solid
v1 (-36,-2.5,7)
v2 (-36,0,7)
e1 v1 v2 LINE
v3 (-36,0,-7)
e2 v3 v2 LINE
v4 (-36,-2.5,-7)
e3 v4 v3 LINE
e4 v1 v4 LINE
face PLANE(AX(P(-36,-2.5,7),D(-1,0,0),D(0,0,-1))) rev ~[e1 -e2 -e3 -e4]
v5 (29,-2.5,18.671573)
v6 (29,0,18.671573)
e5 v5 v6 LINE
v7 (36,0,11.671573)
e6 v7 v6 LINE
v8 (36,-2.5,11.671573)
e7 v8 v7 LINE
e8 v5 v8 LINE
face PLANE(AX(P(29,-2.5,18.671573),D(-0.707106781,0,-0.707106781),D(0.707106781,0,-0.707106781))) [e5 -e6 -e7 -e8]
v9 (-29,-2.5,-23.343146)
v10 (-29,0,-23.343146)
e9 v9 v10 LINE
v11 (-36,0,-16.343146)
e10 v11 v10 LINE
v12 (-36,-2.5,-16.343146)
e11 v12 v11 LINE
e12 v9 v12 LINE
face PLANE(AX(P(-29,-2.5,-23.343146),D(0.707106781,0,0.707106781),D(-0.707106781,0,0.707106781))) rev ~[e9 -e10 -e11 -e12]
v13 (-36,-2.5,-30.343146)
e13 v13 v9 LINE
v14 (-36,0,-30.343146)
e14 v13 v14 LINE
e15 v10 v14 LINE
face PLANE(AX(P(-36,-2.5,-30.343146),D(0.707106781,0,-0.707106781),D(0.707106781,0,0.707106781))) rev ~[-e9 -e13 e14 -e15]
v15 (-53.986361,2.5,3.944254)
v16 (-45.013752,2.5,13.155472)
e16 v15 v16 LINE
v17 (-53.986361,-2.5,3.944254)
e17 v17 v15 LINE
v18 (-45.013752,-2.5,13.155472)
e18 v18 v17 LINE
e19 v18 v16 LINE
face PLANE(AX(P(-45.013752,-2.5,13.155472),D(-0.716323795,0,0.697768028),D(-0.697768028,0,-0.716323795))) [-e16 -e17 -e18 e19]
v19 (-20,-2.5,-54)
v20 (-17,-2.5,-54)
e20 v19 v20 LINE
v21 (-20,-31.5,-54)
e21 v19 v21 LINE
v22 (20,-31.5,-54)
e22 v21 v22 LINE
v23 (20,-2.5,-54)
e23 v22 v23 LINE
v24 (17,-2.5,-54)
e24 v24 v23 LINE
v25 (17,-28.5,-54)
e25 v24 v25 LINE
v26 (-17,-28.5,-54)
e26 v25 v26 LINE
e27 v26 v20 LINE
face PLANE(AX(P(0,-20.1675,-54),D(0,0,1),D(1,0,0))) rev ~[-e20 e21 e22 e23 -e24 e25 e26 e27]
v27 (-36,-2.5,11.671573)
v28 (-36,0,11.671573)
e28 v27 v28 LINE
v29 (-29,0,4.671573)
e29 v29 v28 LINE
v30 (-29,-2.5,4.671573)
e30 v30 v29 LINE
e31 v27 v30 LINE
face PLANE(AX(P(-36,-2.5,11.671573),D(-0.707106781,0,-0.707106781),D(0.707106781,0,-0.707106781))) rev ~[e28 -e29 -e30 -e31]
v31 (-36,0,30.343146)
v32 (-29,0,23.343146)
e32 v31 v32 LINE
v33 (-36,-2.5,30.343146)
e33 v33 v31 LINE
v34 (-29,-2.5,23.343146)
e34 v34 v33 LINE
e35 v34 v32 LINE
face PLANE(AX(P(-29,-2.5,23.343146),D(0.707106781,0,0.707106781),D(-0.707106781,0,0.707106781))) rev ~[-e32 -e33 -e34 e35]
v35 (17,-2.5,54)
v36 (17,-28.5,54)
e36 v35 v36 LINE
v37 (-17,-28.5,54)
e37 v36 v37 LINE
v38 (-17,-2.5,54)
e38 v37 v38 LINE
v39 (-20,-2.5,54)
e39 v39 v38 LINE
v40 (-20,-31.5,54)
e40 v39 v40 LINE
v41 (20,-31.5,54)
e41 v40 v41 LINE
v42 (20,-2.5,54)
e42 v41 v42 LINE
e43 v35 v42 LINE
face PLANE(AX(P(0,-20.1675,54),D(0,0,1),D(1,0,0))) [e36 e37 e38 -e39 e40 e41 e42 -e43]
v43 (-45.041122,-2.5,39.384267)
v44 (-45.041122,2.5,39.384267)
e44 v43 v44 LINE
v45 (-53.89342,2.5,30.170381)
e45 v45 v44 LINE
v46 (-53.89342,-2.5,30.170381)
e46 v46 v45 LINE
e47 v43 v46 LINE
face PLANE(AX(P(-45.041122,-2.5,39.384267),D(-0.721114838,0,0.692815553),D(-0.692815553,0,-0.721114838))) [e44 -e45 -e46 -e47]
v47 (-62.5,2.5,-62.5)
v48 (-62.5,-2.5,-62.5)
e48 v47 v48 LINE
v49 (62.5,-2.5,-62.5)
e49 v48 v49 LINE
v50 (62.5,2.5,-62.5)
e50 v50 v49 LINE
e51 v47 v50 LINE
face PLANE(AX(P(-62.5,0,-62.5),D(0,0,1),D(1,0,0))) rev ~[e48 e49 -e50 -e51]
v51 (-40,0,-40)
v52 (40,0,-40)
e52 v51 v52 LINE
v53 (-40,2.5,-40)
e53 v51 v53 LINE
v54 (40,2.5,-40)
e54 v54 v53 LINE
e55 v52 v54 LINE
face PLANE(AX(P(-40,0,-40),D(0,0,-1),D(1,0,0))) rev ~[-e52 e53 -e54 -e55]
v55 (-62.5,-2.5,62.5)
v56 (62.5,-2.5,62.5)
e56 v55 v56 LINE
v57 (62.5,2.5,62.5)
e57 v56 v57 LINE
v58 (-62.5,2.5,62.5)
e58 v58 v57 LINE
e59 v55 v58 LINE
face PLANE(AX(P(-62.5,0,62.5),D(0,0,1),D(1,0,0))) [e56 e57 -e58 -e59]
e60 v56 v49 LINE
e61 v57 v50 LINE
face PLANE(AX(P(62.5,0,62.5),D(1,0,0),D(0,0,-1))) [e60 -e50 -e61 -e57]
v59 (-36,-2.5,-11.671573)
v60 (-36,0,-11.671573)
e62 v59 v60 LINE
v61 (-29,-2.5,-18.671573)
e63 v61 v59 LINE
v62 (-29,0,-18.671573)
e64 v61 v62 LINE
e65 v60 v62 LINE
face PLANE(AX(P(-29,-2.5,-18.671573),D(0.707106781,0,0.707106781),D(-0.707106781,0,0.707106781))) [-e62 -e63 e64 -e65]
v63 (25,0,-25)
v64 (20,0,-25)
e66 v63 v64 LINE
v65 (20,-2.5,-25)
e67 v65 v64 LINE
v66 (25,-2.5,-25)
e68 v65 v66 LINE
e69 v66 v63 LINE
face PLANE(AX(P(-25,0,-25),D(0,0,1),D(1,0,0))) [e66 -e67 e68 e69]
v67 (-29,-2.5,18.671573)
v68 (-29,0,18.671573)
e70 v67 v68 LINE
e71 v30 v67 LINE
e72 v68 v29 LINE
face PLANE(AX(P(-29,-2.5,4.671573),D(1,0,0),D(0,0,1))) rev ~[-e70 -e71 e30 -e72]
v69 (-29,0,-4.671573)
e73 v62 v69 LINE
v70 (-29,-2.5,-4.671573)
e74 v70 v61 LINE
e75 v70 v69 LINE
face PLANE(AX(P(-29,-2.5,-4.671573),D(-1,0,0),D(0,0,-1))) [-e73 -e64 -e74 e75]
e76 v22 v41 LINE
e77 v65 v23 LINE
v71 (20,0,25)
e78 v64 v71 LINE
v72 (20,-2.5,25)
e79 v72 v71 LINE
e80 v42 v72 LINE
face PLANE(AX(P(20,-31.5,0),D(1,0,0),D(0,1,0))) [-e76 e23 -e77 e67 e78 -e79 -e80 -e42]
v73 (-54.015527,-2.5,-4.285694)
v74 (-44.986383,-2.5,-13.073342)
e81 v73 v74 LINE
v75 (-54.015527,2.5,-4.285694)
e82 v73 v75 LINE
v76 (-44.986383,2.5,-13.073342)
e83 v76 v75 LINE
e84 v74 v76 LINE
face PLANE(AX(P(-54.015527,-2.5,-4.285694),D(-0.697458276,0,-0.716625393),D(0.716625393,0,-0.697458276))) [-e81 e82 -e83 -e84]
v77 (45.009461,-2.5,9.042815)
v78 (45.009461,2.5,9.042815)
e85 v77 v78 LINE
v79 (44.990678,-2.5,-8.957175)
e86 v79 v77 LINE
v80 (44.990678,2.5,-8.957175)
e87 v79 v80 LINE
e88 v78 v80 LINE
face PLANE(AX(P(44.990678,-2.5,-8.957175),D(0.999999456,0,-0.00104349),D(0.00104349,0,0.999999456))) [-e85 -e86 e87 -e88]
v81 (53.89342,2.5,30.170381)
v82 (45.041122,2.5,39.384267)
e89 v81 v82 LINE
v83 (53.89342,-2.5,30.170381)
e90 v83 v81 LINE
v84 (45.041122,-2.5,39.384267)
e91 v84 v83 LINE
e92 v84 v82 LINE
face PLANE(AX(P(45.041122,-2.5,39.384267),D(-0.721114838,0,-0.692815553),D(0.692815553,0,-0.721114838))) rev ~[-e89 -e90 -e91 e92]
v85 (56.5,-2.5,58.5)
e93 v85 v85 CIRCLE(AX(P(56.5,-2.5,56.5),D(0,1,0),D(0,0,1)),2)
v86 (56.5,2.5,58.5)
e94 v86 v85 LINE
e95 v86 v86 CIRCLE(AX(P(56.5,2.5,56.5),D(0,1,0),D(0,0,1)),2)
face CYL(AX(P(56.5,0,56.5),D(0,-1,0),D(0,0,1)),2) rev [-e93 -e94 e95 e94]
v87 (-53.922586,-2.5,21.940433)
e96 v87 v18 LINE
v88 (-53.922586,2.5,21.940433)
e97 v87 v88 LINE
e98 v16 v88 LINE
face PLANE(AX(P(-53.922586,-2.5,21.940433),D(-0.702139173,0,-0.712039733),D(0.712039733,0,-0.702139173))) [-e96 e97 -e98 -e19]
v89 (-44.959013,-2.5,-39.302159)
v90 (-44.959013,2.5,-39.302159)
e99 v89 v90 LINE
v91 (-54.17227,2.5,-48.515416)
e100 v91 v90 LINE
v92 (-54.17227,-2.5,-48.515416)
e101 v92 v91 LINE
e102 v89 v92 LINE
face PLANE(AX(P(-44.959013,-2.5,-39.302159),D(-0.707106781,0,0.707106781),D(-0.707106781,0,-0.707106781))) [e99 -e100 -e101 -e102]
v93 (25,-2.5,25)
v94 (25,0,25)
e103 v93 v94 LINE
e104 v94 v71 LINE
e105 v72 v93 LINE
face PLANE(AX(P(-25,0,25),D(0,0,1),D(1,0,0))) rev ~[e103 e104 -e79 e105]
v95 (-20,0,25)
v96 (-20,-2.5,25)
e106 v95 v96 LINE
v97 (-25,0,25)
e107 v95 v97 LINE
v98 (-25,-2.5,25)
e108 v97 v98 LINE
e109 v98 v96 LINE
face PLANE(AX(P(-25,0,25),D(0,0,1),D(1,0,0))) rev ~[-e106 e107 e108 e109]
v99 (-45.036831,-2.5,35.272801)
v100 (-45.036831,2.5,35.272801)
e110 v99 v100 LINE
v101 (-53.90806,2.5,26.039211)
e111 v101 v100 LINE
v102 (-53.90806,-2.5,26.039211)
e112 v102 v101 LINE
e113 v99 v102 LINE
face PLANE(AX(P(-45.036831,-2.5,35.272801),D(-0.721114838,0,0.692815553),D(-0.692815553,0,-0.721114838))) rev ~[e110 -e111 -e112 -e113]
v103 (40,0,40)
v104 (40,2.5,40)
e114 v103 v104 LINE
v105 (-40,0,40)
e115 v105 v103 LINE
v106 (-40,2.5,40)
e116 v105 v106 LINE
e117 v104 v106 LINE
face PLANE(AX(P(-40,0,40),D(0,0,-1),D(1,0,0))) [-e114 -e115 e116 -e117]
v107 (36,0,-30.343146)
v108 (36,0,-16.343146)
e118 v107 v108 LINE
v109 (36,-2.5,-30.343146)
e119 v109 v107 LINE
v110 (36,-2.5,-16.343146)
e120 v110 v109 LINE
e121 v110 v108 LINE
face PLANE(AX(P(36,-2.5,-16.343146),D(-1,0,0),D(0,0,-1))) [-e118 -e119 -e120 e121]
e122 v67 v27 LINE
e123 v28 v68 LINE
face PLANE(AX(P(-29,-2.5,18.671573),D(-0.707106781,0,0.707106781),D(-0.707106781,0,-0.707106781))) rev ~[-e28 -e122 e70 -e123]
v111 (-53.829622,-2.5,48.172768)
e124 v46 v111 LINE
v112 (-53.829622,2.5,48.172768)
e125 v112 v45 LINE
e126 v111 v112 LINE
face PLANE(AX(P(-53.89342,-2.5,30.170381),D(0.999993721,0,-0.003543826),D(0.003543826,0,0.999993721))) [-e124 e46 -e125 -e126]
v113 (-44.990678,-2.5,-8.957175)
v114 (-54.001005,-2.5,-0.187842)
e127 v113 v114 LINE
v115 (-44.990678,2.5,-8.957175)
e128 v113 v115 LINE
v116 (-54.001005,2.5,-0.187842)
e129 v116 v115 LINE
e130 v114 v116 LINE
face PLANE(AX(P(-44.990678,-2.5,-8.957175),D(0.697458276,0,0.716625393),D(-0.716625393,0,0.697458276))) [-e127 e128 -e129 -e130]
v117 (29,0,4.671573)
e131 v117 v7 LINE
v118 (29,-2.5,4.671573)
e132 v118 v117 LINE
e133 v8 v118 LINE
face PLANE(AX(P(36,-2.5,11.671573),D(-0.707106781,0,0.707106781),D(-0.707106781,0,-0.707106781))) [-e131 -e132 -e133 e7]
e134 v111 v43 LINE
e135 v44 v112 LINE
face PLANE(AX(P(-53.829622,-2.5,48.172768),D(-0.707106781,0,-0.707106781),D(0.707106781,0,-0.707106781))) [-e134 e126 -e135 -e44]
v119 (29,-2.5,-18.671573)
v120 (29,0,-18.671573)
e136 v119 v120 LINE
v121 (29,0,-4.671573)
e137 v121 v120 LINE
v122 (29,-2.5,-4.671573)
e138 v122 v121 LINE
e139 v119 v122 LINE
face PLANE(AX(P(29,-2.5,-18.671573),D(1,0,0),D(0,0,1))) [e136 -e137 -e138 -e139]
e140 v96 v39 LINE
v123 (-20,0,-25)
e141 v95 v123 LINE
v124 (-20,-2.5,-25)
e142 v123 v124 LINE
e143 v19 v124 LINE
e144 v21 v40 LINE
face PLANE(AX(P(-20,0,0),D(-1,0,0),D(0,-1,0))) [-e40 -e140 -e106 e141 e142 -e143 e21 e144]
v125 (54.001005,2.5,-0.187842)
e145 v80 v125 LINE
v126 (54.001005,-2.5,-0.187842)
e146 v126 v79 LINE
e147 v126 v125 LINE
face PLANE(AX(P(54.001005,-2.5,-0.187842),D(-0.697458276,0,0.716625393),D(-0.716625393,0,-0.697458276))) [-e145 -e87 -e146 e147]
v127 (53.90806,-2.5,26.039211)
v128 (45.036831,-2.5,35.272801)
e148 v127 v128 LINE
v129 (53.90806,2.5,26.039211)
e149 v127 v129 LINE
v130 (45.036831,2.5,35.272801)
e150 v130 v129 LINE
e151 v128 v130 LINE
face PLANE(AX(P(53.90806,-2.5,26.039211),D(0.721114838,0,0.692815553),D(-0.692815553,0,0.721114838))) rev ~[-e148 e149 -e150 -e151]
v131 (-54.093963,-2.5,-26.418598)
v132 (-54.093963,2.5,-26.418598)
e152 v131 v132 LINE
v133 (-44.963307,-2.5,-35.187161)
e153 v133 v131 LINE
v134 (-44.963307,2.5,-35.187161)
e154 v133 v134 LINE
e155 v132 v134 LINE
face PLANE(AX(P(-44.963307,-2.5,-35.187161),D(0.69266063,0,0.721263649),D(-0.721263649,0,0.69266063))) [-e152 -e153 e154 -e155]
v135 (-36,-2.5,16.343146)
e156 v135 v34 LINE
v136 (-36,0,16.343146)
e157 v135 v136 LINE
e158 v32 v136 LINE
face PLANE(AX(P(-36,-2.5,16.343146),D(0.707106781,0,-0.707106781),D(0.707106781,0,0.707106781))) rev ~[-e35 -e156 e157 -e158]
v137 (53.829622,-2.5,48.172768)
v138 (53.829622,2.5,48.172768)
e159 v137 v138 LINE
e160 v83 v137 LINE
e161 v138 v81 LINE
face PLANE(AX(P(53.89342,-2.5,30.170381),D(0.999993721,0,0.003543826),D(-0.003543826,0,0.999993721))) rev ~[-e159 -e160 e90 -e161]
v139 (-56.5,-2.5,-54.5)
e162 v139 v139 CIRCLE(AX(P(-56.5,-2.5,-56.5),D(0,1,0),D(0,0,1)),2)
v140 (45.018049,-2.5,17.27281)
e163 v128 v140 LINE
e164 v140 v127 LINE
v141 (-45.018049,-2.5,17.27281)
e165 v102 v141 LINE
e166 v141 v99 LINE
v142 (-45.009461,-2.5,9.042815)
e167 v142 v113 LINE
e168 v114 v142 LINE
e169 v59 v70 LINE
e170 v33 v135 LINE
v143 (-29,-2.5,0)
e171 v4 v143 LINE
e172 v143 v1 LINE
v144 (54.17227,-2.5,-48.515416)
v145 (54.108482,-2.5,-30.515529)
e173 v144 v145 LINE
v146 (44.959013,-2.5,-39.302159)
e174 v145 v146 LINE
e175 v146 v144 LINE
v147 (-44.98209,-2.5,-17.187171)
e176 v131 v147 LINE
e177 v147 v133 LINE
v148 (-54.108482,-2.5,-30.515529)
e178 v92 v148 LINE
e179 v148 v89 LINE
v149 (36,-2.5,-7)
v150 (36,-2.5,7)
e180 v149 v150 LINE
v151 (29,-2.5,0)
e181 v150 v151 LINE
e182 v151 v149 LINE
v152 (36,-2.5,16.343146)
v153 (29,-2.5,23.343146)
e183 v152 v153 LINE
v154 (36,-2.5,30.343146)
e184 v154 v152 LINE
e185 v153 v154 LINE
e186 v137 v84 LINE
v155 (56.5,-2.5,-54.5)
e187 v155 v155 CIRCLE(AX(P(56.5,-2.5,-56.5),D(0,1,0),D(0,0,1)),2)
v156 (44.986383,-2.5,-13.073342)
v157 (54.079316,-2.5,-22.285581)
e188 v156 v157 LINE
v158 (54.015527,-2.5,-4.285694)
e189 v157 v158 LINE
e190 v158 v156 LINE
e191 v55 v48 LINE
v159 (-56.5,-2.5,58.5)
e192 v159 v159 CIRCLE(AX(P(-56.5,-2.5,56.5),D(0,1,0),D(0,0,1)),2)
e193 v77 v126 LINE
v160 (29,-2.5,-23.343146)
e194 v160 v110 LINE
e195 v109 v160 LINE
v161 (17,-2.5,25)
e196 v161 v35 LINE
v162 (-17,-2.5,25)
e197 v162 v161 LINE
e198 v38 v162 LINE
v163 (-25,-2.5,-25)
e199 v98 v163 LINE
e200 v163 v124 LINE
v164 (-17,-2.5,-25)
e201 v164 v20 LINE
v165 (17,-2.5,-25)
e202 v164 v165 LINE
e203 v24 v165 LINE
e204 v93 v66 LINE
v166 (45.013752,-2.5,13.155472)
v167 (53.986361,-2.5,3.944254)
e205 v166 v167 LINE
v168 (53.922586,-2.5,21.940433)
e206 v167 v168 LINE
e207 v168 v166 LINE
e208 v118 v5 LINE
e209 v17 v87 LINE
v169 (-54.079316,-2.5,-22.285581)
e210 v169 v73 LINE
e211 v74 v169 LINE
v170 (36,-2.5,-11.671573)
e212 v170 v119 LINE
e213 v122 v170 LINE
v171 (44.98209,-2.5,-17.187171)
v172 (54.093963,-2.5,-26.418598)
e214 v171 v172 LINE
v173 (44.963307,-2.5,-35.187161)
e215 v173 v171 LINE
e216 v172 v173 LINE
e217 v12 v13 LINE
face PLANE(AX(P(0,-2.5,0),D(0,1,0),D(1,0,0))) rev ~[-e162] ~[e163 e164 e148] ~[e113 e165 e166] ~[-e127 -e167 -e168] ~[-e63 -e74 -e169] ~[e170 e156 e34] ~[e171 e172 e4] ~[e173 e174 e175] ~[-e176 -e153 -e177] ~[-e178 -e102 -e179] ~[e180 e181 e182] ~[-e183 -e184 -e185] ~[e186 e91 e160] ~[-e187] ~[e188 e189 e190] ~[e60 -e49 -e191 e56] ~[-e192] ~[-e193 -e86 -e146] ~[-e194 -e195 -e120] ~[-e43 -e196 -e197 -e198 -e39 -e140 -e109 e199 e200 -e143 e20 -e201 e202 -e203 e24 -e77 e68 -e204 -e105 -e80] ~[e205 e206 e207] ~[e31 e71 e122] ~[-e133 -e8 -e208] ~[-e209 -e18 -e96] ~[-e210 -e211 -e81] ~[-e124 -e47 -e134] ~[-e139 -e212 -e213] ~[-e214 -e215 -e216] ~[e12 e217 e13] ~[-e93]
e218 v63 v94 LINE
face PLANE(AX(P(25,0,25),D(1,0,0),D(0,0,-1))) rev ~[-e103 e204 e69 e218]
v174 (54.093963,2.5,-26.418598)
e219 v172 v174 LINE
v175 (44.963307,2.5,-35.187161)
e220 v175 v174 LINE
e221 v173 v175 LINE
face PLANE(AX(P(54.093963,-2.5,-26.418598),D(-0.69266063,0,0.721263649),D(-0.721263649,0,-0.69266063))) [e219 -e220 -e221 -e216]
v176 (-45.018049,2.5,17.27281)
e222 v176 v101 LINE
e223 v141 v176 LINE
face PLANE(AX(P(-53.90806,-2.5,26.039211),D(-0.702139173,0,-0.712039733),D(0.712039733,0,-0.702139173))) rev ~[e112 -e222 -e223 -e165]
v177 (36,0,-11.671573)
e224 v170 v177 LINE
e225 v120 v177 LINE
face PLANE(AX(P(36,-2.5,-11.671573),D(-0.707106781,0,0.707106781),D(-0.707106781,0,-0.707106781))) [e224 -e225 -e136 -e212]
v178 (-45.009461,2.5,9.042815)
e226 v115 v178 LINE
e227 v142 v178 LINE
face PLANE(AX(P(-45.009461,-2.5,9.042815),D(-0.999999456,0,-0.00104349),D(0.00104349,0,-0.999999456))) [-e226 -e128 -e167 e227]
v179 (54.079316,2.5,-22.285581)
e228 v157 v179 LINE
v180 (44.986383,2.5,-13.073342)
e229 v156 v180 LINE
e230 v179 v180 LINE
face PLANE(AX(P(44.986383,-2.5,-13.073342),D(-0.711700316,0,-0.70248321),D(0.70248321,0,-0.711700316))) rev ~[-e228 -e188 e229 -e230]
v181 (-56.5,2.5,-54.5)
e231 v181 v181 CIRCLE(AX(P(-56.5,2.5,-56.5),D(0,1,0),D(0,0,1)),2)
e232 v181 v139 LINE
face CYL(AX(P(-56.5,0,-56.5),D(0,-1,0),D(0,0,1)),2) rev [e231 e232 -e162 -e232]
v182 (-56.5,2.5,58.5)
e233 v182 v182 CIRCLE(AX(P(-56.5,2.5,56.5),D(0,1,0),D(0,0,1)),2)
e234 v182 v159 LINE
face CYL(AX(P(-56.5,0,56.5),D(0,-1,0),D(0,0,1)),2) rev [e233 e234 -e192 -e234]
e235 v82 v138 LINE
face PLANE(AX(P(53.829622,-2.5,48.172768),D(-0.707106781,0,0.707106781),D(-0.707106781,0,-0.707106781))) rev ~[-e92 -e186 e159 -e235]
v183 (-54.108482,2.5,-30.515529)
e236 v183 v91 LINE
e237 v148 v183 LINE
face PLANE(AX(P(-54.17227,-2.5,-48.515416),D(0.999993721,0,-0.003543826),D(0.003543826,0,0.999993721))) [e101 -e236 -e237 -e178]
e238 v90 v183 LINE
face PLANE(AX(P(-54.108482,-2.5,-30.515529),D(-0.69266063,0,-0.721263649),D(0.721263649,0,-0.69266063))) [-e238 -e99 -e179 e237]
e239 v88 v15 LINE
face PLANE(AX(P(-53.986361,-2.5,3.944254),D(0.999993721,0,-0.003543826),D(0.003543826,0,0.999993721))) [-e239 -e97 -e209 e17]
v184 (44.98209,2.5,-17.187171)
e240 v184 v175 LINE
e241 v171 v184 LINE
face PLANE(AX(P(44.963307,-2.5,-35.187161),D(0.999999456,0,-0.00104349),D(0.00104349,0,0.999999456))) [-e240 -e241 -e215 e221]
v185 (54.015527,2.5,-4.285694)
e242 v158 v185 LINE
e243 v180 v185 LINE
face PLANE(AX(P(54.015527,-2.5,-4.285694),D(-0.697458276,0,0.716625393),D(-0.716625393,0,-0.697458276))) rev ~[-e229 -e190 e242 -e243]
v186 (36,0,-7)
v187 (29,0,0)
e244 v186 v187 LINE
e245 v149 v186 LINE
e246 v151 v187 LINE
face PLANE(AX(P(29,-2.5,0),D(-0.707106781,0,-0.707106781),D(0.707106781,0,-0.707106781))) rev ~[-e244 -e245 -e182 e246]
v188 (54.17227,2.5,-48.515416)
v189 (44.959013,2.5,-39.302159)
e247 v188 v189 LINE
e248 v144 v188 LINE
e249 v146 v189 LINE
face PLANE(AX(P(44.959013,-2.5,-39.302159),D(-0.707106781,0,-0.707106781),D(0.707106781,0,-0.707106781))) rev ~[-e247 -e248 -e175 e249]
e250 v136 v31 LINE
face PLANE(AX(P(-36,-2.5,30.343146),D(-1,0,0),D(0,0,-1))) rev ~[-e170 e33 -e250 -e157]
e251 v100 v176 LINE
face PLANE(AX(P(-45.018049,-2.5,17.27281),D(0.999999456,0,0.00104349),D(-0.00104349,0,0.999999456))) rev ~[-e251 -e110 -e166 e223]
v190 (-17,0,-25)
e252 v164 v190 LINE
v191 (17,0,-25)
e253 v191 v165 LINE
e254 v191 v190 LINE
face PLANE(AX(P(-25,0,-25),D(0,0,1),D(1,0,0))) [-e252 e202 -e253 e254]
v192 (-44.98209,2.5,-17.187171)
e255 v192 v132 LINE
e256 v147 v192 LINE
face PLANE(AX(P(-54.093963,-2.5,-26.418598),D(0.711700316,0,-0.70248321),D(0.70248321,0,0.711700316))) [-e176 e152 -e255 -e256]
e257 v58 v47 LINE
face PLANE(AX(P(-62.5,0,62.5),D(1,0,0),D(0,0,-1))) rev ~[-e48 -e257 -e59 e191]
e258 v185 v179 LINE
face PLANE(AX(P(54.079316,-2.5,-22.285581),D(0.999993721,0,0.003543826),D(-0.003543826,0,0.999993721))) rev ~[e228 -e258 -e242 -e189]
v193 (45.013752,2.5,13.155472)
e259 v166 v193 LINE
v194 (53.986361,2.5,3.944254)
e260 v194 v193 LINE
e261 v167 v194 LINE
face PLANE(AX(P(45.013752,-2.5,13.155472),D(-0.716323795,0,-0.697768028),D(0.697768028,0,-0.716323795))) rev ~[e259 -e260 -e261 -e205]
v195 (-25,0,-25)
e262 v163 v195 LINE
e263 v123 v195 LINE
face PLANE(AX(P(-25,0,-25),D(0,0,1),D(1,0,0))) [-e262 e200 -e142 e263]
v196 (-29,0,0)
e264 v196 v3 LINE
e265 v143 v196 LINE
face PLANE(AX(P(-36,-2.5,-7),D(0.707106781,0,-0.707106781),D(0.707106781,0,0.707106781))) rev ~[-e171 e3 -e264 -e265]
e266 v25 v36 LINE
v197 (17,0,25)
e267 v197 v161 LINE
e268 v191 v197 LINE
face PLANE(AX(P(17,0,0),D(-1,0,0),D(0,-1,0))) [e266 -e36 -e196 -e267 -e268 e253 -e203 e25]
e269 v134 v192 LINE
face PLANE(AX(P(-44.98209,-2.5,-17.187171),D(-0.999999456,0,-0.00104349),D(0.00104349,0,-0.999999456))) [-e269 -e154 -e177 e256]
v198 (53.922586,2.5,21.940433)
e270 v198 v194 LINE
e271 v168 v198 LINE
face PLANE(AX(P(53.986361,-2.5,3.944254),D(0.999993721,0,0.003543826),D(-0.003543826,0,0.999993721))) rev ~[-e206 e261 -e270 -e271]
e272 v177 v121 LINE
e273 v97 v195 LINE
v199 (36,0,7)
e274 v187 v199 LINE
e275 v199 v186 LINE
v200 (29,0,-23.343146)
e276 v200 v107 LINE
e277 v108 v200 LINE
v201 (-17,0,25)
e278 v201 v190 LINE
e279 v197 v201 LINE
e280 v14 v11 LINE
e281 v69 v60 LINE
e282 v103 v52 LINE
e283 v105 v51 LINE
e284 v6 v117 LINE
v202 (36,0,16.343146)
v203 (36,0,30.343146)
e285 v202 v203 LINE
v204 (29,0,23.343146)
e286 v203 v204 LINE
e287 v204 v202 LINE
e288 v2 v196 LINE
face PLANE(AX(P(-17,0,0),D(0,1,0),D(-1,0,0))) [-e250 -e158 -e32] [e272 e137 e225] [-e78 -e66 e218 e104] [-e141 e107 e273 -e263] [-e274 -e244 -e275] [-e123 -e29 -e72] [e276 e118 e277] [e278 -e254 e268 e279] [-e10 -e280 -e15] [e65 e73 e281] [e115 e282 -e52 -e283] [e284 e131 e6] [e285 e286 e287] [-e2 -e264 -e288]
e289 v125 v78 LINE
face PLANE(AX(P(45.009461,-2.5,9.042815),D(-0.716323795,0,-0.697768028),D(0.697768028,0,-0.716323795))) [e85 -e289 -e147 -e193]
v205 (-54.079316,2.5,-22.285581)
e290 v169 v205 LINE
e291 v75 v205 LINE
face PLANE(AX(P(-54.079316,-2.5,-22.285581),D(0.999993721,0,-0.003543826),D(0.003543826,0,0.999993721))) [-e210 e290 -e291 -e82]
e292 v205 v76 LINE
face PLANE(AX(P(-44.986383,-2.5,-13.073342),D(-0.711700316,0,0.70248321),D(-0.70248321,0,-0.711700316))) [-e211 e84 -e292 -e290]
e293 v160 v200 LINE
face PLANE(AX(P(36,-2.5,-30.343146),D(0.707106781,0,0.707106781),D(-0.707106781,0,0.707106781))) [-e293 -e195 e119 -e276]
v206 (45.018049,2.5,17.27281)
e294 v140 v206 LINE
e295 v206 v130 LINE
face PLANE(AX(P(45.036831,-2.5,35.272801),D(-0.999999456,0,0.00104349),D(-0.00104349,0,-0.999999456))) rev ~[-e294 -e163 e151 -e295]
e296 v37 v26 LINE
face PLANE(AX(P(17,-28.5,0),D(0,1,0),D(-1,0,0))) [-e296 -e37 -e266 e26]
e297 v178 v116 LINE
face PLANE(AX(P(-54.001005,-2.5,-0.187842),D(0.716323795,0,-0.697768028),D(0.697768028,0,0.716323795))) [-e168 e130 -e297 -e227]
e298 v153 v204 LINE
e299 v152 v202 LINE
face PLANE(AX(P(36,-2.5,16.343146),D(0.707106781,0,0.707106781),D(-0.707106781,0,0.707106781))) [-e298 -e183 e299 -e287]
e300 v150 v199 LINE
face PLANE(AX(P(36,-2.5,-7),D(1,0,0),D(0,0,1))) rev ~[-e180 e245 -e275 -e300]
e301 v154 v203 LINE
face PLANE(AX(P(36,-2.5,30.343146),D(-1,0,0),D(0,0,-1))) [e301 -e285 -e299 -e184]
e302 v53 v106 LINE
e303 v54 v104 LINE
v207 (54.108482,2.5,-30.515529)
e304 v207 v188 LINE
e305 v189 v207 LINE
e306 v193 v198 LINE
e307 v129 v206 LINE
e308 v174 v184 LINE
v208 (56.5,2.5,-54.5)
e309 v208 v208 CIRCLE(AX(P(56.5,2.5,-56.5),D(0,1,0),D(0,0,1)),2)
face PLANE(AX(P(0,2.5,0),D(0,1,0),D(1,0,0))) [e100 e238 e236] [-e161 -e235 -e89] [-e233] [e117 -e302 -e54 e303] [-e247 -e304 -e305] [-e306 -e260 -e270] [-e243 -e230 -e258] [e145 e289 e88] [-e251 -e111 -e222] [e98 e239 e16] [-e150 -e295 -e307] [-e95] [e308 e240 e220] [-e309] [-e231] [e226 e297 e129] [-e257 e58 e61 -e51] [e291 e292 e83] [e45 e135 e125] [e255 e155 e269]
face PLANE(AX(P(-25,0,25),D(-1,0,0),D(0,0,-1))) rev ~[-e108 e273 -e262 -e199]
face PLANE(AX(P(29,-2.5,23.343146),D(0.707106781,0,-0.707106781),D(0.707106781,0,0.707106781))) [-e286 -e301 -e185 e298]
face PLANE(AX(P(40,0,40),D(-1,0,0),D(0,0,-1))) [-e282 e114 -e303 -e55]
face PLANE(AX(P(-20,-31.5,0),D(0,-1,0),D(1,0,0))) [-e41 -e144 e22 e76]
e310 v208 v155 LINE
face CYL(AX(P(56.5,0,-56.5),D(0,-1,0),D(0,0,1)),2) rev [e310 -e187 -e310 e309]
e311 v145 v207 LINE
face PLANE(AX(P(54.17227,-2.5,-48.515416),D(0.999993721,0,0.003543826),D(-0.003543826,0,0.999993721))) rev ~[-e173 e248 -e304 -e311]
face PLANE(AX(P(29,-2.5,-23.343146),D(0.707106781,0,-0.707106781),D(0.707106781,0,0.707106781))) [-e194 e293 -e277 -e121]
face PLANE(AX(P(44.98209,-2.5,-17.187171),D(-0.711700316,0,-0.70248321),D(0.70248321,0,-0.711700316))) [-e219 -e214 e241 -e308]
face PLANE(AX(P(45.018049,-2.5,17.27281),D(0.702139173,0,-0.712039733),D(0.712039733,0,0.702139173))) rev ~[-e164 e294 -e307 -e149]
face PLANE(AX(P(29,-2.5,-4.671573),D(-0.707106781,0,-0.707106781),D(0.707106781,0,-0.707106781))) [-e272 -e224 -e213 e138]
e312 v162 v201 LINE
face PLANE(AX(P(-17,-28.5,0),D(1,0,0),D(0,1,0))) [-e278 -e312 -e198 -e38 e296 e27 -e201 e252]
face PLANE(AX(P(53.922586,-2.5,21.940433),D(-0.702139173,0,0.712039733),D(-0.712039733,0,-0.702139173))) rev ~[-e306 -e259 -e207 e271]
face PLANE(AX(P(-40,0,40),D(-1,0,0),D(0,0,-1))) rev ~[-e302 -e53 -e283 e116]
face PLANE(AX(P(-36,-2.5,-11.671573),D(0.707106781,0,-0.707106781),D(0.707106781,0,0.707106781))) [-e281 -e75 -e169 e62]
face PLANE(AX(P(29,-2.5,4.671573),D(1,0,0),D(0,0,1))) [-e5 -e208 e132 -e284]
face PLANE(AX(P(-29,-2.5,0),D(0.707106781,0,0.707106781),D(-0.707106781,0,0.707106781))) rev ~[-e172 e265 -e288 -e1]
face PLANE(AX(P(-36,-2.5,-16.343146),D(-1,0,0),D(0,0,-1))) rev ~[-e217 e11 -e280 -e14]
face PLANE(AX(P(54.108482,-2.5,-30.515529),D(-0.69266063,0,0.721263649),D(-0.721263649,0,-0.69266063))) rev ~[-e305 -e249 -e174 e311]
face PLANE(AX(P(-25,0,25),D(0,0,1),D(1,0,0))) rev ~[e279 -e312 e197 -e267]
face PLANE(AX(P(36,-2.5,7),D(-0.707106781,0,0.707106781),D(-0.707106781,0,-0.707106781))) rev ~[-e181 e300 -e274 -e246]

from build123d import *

# Parameters (mm, degrees)
SKETCH_2_W               = 125
SKETCH_2_H               = 125
SKETCH_2_R               = 2
SKETCH_2_W_2             = 50
SKETCH_2_H_2             = 50
EXTRUDE_1_DEPTH          = 2.5
EXTRUDE_4_DEPTH          = 54
SKETCH_7_W               = 80
SKETCH_7_H               = 80
CUT_EXTRUDE_1_DEPTH      = 10
CUT_EXTRUDE_2_DEPTH      = 95.702164706
CUT_EXTRUDE_2_DEPTH_BACK = 5


with BuildPart() as part:
    # 스케치2 → 보스-돌출1 (new, symmetric)
    with BuildSketch(Plane(origin=(0, 0, 0), x_dir=(1, 0, 0), z_dir=(0, 1, 0))):
        Rectangle(SKETCH_2_W, SKETCH_2_H)
        with Locations((-56.5, 56.5)):
            Circle(SKETCH_2_R, mode=Mode.SUBTRACT)
        with Locations((56.5, 56.5)):
            Circle(SKETCH_2_R, mode=Mode.SUBTRACT)
        with Locations((-56.5, -56.5)):
            Circle(SKETCH_2_R, mode=Mode.SUBTRACT)
        with Locations((56.5, -56.5)):
            Circle(SKETCH_2_R, mode=Mode.SUBTRACT)
        Rectangle(SKETCH_2_W_2, SKETCH_2_H_2, mode=Mode.SUBTRACT)
    extrude(amount=EXTRUDE_1_DEPTH, both=True)

    # 스케치6 → 보스-돌출4 (add, symmetric)
    with BuildSketch(Plane.XY):
        Polygon((-20, 0), (-20, -31.5), (20, -31.5), (20, 0), (17, 0), (17, -28.5), (-17, -28.5), (-17, 0), align=None)
    extrude(amount=EXTRUDE_4_DEPTH, both=True)

    # 스케치7 → 컷-돌출1 (cut)
    with BuildSketch(Plane(origin=(0, 0, 0), x_dir=(1, 0, 0), z_dir=(0, 1, 0))):
        Rectangle(SKETCH_7_W, SKETCH_7_H)
    extrude(amount=CUT_EXTRUDE_1_DEPTH, mode=Mode.SUBTRACT)

    # 스케치8 → 컷-돌출2 (cut, two sides: drawn at the far end of the back side and taken through both)
    with BuildSketch(Plane(origin=(0, 2.5, 0), x_dir=(1, 0, 0), z_dir=(0, 1, 0)).offset(-CUT_EXTRUDE_2_DEPTH_BACK)):
        Polygon((54.07931581, 22.285580831), (54.015526938, 4.28569386), (44.986382589, 13.073341514), align=None)
        Polygon((36, -30.343145751), (36, -16.343145751), (29, -23.343145751), align=None)
        Polygon((29, 18.671572875), (29, 4.671572875), (36, 11.671572875), align=None)
        Polygon((36, 30.343145751), (29, 23.343145751), (36, 16.343145751), align=None)
        Polygon((53.829622097, -48.172767848), (45.041121619, -39.384267369), (53.893419828, -30.170381277), align=None)
        Polygon((45.036831341, -35.272800588), (45.018048518, -17.272810388), (53.90806007, -26.039210725), align=None)
        Polygon((44.95901306, 39.30215881), (54.172270373, 48.515416123), (54.1084815, 30.515529152), align=None)
        Polygon((53.922585518, -21.940432956), (45.013752114, -13.155472476), (53.986361248, -3.944254461), align=None)
        Polygon((45.009460593, -9.042814869), (54.001004771, 0.18784173), (44.99067777, 8.957175331), align=None)
        Polygon((44.982089846, 17.187170851), (54.093962598, 26.418598199), (44.963307022, 35.187161051), align=None)
        Polygon((29, 0), (36, 7), (36, -7), align=None)
        Polygon((36, -11.671572875), (29, -4.671572875), (29, -18.671572875), align=None)
        Polygon((-36, -7), (-36, 7), (-29, 0), align=None)
        Polygon((-29, -4.671572875), (-29, -18.671572875), (-36, -11.671572875), align=None)
        Polygon((-36, 16.343145751), (-36, 30.343145751), (-29, 23.343145751), align=None)
        Polygon((-36, -16.343145751), (-29, -23.343145751), (-36, -30.343145751), align=None)
        Polygon((-36, 11.671572875), (-29, 4.671572875), (-29, 18.671572875), align=None)
        Polygon((-53.893419828, -30.170381277), (-53.829622097, -48.172767848), (-45.041121619, -39.384267369), align=None)
        Polygon((-45.009460593, -9.042814869), (-44.99067777, 8.957175331), (-54.001004771, 0.18784173), align=None)
        Polygon((-53.986361248, -3.944254461), (-53.922585518, -21.940432956), (-45.013752114, -13.155472476), align=None)
        Polygon((-44.982089846, 17.187170851), (-44.963307022, 35.187161051), (-54.093962598, 26.418598199), align=None)
        Polygon((-54.1084815, 30.515529152), (-44.95901306, 39.30215881), (-54.172270373, 48.515416123), align=None)
        Polygon((-44.986382589, 13.073341514), (-54.07931581, 22.285580831), (-54.015526938, 4.28569386), align=None)
        Polygon((-53.90806007, -26.039210725), (-45.018048518, -17.272810388), (-45.036831341, -35.272800588), align=None)
    extrude(amount=CUT_EXTRUDE_2_DEPTH + CUT_EXTRUDE_2_DEPTH_BACK, mode=Mode.SUBTRACT)


solid = part.part
